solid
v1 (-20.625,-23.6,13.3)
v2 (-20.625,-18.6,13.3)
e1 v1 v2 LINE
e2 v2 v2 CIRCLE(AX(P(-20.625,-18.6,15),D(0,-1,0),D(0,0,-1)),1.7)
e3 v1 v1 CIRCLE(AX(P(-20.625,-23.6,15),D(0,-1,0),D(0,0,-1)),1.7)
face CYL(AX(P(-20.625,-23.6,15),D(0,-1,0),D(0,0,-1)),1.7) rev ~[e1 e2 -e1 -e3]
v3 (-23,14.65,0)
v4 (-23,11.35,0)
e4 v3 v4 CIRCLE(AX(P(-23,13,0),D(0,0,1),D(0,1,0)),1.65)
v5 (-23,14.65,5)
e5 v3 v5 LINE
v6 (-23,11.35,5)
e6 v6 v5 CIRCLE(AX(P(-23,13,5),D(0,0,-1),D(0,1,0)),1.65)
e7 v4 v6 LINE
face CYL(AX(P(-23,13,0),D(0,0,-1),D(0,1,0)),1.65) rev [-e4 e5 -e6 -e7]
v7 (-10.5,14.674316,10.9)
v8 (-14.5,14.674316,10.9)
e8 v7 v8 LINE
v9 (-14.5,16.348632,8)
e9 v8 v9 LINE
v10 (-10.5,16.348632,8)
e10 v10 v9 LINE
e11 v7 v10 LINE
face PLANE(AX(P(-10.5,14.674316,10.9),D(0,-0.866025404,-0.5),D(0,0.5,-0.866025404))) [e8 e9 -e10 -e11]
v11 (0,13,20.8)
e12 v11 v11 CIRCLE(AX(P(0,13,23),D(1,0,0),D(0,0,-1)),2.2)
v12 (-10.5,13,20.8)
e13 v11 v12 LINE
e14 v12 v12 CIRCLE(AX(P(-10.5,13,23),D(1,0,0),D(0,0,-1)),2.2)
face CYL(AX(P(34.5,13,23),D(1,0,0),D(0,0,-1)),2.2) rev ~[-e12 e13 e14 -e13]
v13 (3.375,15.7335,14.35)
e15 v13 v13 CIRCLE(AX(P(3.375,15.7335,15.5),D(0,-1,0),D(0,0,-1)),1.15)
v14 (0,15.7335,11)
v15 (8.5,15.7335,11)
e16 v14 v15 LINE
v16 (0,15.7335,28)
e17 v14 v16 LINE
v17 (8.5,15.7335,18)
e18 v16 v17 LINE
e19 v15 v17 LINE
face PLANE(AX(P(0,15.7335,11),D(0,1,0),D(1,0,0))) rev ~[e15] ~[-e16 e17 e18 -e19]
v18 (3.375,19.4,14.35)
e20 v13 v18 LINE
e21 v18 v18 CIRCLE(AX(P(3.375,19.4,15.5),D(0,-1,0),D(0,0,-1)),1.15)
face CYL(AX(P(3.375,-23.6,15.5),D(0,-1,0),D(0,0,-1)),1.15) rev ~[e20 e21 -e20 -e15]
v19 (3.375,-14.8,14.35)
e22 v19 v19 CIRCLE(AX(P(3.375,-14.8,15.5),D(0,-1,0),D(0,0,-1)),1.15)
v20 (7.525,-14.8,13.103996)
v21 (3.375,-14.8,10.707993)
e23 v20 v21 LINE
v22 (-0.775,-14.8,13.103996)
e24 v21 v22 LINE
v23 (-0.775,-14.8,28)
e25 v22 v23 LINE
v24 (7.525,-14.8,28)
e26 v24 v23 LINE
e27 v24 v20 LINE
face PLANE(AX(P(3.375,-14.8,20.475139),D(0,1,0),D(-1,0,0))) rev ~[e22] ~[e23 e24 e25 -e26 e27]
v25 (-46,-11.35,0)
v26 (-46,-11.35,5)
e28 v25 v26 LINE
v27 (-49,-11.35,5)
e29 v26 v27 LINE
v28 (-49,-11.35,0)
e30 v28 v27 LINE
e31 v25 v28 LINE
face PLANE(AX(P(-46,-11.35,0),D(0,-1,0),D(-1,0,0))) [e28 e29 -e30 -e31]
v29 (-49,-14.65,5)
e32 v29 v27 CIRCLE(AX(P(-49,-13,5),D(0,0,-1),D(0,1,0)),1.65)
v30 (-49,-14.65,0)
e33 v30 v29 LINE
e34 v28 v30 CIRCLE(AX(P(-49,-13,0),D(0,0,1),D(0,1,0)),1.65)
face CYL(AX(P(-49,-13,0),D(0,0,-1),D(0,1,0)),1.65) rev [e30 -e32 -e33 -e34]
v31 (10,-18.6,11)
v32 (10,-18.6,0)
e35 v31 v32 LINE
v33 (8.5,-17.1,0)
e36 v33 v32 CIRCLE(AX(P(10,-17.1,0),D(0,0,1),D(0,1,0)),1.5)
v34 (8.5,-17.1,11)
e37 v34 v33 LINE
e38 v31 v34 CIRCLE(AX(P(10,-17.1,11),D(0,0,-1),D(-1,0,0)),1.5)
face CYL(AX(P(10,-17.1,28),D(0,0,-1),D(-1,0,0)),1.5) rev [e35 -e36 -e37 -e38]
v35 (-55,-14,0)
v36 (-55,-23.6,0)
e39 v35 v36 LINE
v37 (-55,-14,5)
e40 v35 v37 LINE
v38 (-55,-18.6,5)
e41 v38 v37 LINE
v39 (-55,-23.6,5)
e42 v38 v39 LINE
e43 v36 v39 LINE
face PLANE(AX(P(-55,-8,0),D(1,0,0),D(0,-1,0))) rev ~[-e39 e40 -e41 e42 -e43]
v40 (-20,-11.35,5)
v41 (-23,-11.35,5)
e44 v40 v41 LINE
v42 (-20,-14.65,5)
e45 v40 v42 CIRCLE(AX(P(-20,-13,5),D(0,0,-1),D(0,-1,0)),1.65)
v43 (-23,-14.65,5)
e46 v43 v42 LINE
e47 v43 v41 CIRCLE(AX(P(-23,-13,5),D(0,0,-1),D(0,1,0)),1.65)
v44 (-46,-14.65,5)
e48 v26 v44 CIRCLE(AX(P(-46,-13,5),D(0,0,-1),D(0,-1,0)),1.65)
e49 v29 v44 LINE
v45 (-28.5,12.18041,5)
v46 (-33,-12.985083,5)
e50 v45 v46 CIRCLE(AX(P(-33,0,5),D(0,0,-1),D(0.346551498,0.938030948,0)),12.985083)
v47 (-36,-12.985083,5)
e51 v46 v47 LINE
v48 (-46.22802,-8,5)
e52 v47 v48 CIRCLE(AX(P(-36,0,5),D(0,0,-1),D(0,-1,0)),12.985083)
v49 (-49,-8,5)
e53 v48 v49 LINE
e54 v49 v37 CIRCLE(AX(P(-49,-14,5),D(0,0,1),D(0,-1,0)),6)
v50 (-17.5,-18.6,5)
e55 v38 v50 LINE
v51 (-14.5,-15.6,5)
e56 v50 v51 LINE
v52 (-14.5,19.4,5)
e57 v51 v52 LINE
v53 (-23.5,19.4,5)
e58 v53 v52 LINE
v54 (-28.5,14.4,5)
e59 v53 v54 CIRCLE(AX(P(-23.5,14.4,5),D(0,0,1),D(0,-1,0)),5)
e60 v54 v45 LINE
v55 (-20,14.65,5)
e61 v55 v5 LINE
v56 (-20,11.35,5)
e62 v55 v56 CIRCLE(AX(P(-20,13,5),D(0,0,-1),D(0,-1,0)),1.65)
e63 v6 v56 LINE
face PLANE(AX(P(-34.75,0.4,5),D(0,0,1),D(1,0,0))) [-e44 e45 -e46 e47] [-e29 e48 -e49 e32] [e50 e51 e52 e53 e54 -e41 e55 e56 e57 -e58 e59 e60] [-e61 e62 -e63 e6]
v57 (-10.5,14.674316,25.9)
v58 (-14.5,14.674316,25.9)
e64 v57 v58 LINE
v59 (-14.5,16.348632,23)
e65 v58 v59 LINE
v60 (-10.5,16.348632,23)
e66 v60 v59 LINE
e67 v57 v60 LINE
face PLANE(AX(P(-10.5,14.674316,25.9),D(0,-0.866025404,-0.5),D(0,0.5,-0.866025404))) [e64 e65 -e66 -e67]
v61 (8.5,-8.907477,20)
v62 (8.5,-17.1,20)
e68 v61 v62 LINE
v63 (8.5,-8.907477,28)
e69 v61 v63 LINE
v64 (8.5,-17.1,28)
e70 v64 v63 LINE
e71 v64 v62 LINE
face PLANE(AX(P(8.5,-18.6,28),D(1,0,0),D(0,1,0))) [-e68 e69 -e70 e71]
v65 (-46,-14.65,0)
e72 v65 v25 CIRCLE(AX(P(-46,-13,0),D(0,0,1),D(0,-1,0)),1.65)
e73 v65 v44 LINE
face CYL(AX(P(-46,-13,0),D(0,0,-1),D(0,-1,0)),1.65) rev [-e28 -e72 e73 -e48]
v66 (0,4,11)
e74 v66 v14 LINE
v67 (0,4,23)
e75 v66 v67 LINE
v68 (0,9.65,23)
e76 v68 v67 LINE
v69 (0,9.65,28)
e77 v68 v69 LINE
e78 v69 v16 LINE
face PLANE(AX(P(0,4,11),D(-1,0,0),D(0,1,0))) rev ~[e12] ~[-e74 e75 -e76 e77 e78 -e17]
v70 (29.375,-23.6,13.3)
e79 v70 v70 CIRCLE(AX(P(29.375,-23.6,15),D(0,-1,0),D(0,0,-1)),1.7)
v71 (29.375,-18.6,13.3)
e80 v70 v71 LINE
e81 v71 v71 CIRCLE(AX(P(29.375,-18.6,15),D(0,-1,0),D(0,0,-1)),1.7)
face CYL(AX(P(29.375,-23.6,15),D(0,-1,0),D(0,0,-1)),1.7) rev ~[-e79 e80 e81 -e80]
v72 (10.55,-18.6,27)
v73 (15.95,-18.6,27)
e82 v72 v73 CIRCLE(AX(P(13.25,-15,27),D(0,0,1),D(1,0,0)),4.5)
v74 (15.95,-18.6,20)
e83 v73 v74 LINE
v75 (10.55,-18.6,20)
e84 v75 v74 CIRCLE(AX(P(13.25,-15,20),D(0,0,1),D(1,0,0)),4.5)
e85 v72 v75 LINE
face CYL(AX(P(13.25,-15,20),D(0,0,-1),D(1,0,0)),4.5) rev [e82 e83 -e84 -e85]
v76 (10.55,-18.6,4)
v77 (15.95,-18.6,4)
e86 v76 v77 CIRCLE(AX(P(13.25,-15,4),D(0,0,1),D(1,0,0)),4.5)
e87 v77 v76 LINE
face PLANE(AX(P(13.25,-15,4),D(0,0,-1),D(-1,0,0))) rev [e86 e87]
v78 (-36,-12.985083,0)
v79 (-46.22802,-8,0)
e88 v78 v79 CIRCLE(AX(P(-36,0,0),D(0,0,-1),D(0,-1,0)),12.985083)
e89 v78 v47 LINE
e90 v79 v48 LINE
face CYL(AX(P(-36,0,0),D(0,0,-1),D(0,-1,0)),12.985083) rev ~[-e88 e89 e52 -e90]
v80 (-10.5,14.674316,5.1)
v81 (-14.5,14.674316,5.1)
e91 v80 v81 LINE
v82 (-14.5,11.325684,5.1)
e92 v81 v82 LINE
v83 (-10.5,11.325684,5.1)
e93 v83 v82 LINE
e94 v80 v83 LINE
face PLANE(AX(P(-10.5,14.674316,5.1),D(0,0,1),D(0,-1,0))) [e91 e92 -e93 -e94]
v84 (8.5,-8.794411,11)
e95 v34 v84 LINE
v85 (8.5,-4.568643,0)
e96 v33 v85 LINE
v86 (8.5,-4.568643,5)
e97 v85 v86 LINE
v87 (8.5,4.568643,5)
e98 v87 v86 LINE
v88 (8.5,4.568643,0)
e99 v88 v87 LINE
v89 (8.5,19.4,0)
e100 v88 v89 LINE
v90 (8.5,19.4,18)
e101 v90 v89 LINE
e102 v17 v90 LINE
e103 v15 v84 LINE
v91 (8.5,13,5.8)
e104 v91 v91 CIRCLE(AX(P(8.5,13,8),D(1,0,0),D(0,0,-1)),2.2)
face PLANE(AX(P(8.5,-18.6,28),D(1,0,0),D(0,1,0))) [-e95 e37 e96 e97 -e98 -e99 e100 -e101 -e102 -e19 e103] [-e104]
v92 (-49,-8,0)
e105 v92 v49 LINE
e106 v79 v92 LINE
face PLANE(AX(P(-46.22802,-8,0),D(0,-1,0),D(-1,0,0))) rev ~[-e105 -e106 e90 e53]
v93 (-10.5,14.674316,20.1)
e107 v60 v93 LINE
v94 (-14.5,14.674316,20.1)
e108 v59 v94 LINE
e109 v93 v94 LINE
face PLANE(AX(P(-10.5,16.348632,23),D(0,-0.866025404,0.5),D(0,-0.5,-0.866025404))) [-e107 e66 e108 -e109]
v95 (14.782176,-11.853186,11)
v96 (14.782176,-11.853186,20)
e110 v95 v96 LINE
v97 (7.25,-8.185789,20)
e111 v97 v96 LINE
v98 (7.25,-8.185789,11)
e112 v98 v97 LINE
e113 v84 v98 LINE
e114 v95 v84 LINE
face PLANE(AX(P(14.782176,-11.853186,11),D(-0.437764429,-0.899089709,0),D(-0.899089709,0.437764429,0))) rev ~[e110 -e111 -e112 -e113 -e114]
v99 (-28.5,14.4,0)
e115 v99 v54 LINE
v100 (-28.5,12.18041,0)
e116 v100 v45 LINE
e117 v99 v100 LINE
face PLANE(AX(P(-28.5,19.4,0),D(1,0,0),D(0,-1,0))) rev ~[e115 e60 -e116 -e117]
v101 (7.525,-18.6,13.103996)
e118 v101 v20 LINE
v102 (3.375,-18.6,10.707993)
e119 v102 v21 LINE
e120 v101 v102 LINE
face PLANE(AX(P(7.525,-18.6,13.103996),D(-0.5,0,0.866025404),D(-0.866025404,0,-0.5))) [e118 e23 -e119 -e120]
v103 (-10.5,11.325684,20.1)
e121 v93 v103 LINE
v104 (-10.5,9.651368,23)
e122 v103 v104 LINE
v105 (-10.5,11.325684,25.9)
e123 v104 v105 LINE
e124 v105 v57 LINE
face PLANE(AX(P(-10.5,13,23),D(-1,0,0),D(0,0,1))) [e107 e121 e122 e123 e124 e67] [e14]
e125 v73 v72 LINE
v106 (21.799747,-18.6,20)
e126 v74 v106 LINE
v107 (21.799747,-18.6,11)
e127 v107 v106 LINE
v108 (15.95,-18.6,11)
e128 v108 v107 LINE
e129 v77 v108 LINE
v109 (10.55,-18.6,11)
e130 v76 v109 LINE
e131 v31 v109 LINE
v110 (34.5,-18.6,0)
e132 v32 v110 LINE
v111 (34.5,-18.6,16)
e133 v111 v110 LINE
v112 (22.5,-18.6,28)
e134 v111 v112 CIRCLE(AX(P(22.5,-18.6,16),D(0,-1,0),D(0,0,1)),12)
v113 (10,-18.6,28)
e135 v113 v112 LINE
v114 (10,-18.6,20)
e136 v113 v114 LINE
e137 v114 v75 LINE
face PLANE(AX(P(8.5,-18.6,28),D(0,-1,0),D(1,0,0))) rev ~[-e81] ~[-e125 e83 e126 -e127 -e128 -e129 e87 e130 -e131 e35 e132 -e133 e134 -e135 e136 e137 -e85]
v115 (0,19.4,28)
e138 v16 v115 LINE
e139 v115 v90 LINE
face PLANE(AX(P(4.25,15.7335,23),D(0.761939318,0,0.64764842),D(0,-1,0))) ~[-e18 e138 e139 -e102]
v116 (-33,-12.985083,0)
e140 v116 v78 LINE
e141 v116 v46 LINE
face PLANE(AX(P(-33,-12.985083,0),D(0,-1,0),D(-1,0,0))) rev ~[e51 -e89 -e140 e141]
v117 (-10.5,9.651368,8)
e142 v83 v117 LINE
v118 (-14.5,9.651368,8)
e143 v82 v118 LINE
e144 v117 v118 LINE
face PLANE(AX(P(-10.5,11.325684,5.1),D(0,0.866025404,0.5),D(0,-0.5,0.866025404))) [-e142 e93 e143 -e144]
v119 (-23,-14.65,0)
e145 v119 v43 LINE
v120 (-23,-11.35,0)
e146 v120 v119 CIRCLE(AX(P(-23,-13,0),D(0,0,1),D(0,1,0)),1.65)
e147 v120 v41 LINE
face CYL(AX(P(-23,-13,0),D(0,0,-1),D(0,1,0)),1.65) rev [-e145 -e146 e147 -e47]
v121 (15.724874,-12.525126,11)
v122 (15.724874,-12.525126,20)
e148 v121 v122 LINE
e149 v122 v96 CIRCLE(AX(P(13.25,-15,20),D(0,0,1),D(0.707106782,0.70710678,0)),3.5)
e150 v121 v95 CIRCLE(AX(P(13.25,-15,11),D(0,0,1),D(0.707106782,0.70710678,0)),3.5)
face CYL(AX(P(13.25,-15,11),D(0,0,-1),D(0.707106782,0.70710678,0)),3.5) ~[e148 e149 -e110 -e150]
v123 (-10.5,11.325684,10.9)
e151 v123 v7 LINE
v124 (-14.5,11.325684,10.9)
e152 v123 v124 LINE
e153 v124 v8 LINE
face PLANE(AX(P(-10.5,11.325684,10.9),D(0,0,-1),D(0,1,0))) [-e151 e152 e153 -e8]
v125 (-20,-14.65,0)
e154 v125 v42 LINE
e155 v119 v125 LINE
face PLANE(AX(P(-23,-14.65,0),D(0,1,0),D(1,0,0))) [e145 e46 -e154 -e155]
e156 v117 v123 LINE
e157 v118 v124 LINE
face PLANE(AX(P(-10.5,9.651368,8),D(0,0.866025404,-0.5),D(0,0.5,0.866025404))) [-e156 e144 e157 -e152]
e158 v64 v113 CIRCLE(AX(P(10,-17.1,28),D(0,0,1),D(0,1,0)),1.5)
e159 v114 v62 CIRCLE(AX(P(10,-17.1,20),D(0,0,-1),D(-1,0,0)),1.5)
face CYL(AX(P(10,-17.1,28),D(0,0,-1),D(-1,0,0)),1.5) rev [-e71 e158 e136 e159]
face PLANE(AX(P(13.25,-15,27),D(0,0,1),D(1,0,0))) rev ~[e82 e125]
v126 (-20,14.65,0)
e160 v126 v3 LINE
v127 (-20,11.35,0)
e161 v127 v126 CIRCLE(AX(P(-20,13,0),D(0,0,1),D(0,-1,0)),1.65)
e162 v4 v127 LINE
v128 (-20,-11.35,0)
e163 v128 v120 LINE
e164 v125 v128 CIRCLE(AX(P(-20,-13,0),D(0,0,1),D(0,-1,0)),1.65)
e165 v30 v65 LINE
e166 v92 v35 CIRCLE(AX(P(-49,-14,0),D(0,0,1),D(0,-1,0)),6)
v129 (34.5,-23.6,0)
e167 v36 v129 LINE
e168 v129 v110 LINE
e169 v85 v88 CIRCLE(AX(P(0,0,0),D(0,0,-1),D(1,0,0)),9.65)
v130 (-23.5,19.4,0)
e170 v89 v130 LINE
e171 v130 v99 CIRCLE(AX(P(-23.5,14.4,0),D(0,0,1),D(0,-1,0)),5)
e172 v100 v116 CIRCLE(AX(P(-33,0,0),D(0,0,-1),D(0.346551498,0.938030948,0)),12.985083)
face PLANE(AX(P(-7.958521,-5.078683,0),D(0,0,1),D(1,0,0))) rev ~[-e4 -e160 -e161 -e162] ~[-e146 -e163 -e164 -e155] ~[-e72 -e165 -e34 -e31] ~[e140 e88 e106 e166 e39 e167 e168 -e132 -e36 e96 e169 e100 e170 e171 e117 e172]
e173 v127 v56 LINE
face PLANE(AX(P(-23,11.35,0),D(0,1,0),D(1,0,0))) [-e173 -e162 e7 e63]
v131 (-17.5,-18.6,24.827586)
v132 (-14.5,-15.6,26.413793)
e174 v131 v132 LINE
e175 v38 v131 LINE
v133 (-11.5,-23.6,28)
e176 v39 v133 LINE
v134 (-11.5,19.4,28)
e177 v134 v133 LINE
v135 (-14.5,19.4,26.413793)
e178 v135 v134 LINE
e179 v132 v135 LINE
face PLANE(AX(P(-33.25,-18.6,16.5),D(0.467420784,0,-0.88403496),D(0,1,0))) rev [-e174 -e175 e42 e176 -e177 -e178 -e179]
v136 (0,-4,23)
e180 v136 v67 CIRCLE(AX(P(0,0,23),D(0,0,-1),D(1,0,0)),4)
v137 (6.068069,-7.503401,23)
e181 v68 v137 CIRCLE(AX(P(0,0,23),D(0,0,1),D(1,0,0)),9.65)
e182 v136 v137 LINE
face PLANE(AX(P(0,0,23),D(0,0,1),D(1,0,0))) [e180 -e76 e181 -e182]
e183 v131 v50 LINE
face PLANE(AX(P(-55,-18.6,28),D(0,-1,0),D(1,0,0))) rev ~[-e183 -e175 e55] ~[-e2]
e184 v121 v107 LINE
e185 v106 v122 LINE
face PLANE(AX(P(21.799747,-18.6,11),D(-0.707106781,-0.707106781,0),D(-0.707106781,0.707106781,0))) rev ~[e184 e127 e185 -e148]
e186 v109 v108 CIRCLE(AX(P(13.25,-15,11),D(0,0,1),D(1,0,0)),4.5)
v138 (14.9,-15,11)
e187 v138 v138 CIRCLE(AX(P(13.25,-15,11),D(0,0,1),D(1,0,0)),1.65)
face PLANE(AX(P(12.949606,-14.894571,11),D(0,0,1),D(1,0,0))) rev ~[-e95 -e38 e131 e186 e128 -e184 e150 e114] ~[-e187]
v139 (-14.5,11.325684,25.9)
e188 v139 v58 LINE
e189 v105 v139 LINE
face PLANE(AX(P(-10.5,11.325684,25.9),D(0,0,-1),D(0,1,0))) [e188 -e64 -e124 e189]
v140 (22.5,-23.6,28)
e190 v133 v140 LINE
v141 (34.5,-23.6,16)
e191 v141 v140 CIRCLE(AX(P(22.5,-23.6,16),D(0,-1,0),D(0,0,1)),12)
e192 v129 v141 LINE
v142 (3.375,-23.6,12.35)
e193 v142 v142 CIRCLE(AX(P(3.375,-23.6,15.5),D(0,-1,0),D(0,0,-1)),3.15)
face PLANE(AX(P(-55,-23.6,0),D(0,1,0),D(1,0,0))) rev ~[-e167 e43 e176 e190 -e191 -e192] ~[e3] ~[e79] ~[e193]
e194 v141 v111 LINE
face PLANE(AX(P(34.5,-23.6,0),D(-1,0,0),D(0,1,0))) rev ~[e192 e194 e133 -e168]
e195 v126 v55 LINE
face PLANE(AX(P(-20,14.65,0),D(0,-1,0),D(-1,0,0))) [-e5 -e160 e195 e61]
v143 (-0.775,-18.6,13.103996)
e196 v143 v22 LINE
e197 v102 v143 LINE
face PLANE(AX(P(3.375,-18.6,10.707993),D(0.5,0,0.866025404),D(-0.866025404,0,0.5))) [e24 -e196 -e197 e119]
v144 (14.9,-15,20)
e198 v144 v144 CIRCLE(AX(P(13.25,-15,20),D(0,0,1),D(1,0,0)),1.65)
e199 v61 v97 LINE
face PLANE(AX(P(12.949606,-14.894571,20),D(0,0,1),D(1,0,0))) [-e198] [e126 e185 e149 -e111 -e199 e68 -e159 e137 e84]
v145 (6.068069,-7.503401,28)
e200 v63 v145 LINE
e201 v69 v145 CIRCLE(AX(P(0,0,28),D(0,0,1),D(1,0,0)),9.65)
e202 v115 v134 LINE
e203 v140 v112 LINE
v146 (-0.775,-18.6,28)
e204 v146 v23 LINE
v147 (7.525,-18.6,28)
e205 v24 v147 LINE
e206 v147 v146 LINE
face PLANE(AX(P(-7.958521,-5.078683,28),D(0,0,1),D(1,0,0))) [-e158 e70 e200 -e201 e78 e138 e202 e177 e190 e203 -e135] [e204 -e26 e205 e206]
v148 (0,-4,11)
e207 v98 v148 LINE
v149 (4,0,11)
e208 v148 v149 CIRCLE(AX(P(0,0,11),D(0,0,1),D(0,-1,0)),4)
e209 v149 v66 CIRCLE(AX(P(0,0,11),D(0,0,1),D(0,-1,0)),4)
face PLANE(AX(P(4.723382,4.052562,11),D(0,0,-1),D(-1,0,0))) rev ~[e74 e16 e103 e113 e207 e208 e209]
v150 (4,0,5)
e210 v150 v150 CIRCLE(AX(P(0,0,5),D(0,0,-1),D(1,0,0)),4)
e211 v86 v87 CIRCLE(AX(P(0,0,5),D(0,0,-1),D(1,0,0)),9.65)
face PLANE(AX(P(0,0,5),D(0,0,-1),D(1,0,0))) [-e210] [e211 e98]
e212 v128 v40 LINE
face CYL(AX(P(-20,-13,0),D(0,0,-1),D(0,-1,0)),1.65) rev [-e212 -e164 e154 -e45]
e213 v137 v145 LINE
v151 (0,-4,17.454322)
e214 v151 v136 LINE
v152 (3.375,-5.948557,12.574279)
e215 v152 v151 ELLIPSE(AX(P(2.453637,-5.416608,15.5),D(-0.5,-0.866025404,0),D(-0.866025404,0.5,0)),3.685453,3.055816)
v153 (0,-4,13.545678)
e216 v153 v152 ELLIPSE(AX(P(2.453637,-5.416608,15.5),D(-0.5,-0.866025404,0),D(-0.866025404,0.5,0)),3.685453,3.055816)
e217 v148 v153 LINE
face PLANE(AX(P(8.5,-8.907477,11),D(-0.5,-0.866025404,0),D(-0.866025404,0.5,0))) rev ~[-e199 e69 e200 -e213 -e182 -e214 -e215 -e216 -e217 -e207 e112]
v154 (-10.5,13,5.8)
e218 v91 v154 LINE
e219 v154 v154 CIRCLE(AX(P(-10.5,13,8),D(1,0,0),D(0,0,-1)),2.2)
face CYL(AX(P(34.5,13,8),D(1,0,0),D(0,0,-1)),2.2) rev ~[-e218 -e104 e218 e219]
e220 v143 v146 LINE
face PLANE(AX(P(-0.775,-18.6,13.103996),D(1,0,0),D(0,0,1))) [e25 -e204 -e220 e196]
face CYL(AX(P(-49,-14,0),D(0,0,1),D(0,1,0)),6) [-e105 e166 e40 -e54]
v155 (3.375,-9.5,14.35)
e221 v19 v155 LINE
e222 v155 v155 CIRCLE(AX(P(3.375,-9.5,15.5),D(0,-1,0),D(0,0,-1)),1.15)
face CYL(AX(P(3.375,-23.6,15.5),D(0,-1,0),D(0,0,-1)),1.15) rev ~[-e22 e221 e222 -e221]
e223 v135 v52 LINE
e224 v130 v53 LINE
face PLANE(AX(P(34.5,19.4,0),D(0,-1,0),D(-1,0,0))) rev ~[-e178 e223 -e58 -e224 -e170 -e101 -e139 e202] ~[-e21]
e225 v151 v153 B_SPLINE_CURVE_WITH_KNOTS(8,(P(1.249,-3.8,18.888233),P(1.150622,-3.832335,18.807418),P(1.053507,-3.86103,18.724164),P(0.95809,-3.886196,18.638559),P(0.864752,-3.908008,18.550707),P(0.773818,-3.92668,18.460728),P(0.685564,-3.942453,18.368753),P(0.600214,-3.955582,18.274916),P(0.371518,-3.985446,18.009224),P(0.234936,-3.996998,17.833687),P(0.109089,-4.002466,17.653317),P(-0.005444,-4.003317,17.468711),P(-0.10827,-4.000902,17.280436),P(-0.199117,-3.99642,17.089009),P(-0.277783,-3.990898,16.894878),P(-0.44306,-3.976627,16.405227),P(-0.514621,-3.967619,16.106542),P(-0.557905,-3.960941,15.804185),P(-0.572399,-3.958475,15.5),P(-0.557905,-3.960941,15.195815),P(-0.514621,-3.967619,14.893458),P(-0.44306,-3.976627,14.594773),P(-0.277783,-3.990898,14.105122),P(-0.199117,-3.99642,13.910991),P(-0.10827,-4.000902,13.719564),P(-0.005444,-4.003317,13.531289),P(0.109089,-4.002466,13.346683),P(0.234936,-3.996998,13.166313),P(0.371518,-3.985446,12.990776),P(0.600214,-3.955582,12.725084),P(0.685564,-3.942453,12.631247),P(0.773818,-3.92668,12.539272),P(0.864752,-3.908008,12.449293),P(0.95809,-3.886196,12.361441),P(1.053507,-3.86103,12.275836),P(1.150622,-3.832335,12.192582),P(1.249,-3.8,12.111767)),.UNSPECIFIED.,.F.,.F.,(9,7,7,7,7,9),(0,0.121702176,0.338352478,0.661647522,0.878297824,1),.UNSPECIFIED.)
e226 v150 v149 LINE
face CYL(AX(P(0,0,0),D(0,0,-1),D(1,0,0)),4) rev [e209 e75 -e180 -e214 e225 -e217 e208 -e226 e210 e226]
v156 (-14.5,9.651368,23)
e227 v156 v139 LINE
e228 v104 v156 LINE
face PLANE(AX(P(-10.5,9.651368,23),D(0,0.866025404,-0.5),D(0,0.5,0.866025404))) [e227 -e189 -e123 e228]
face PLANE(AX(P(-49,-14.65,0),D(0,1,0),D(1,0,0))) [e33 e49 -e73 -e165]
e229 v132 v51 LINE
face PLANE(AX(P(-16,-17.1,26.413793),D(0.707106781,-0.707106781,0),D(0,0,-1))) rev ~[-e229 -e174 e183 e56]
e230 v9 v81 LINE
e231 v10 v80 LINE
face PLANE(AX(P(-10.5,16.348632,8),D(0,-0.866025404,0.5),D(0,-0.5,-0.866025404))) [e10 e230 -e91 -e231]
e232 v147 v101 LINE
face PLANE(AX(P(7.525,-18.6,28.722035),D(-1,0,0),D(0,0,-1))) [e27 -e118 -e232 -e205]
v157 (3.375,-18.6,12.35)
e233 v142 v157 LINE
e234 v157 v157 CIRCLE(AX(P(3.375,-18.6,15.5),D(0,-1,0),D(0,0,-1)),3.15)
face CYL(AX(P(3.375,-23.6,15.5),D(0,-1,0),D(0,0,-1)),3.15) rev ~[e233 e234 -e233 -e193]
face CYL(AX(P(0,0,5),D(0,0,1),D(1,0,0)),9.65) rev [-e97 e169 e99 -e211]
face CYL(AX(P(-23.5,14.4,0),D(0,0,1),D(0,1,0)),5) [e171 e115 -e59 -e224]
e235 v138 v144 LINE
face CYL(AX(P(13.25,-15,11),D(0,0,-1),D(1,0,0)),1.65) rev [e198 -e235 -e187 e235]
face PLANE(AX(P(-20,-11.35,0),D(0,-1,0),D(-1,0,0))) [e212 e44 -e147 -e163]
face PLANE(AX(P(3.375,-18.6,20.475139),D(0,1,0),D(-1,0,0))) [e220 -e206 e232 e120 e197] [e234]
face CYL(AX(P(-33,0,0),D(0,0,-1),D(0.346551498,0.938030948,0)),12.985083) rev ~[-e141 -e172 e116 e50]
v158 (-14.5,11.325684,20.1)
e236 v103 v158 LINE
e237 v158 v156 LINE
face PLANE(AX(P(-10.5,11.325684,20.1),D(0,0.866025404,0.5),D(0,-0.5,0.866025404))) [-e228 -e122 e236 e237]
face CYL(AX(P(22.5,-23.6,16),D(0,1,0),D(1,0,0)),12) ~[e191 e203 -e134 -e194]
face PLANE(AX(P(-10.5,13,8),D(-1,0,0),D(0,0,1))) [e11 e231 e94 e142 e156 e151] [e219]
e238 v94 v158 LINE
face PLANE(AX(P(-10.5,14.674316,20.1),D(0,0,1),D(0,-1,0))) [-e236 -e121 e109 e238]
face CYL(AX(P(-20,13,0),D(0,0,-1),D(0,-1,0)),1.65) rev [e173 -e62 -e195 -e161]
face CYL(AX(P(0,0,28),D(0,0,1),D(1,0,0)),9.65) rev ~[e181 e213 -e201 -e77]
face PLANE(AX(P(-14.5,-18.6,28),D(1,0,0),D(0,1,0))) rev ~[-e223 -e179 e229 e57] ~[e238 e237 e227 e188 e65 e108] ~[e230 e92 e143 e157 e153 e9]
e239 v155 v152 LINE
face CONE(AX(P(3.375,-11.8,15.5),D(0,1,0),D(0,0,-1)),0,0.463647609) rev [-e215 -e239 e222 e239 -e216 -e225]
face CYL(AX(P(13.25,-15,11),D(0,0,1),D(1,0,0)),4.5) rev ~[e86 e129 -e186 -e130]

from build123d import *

# Parameters (mm, degrees)
SKETCH1_R                = 4
BOSS_EXTRUDE1_DEPTH      = 28
SKETCH2_W                = 40.5
SKETCH2_H                = 38
CUT_EXTRUDE1_DEPTH       = 23
SKETCH3_R                = 9.65
CUT_EXTRUDE2_DEPTH       = 5
CUT_EXTRUDE3_START       = -5
SKETCH4_R                = 9.65
CUT_EXTRUDE3_DEPTH       = 5
SKETCH8_R                = 1.15
CUT_EXTRUDE7_DEPTH       = 76.219678276
CHAMFER1_SIZE            = 23
CHAMFER1_SIZE2           = 43.5
SKETCH9_R                = 2.2
CUT_EXTRUDE8_DEPTH       = 97.701654612
CUT_EXTRUDE9_DEPTH       = 3
CUT_EXTRUDE9_DEPTH_BACK  = 4
CHAMFER2_SIZE            = 3
SKETCH15_R               = 1.7
CUT_EXTRUDE11_DEPTH      = 76.219678334
SKETCH16_W               = 26
SKETCH16_H               = 38
CUT_EXTRUDE12_DEPTH      = 67.075411499
FILLET6_R                = 1.5
CUT_EXTRUDE13_START      = -17
CUT_EXTRUDE13_DEPTH      = 17
BOSS_EXTRUDE3_DEPTH      = 4.5
BOSS_EXTRUDE3_DEPTH_BACK = 4.5
SKETCH21_R               = 1.65
SKETCH22_R               = 4.5
CUT_EXTRUDE14_DEPTH      = 7
CHAMFER4_SIZE            = 8.5
CHAMFER4_SIZE2           = 10
FILLET1_R                = 5
FILLET2_R                = 6
FILLET4_R                = 12
CUT_EXTRUDE15_DEPTH      = 3.8
CUT_EXTRUDE18_REACH      = 77.22
SKETCH26_R               = 3.15


with BuildPart() as part:
    # Sketch1 → Boss-Extrude1 (new body)
    with BuildSketch(Plane.XY):
        with BuildLine():
            Line((-55, -23.6), (34.5, -23.6))
            Line((34.5, -23.6), (34.5, 19.4))
            Line((34.5, 19.4), (-28.5, 19.4))
            Line((-28.5, 19.4), (-28.5, 12.180409823))
            ThreePointArc((-28.5, 12.180409823), (-20.217668105, -2.285689125), (-33, -12.985083113))
            Line((-33, -12.985083113), (-36, -12.985083113))
            ThreePointArc((-36, -12.985083113), (-41.689100041, -11.672468641), (-46.228019527, -8))
            Line((-46.228019527, -8), (-55, -8))
            Line((-55, -8), (-55, -23.6))
        make_face()
        Circle(SKETCH1_R, mode=Mode.SUBTRACT)
        with BuildLine():
            Line((-23, 11.35), (-20, 11.35))
            ThreePointArc((-20, 11.35), (-18.35, 13), (-20, 14.65))
            Line((-20, 14.65), (-23, 14.65))
            ThreePointArc((-23, 14.65), (-24.65, 13), (-23, 11.35))
        make_face(mode=Mode.SUBTRACT)
        with BuildLine():
            Line((-23, -14.65), (-20, -14.65))
            ThreePointArc((-20, -14.65), (-18.35, -13), (-20, -11.35))
            Line((-20, -11.35), (-23, -11.35))
            ThreePointArc((-23, -11.35), (-24.65, -13), (-23, -14.65))
        make_face(mode=Mode.SUBTRACT)
        with BuildLine():
            Line((-46, -11.35), (-49, -11.35))
            ThreePointArc((-49, -11.35), (-50.65, -13), (-49, -14.65))
            Line((-49, -14.65), (-46, -14.65))
            ThreePointArc((-46, -14.65), (-44.35, -13), (-46, -11.35))
        make_face(mode=Mode.SUBTRACT)
    extrude(amount=BOSS_EXTRUDE1_DEPTH)

    # Sketch2 → Cut-Extrude1 (cut)
    with BuildSketch(Plane.XY.offset(28)):
        with Locations((-34.75, 0.4)):
            Rectangle(SKETCH2_W, SKETCH2_H)
    extrude(amount=-CUT_EXTRUDE1_DEPTH, mode=Mode.SUBTRACT)

    # Sketch3 → Cut-Extrude2 (cut)
    with BuildSketch(Plane.XY.offset(28)):
        Circle(SKETCH3_R)
    extrude(amount=-CUT_EXTRUDE2_DEPTH, mode=Mode.SUBTRACT)

    # Sketch4 → Cut-Extrude3 (cut)
    with BuildSketch(Plane(origin=(0, 0, 0), x_dir=(-1, 0, 0), z_dir=(0, 0, -1)).offset(CUT_EXTRUDE3_START)):
        with Locations(Location((0, 0, 0), (0, 0, 180))):
            Circle(SKETCH4_R)
    extrude(amount=CUT_EXTRUDE3_DEPTH, mode=Mode.SUBTRACT)

    # Sketch8 → Cut-Extrude7 (cut, through all)
    with BuildSketch(Plane.XZ.offset(23.6)):
        with Locations(Location((3.375, 15.5, 0), (0, 0, 270))):
            Circle(SKETCH8_R)
    extrude(amount=-CUT_EXTRUDE7_DEPTH, mode=Mode.SUBTRACT)

    # Chamfer1
    chamfer1_edges = [part.edges().sort_by_distance(p)[0] for p in [
        (-55, -21.1, 28),
    ]]
    chamfer1_side = [part.faces().sort_by_distance(p)[0] for p in [
        (-55, -18.958031088, 10.841968912),
    ]]
    chamfer(chamfer1_edges, length=CHAMFER1_SIZE, length2=CHAMFER1_SIZE2, reference=chamfer1_side[0])

    # Sketch9 → Cut-Extrude8 (cut, through all)
    with BuildSketch(Plane(origin=(34.5, 0, 0), x_dir=(0, 0, -1), z_dir=(1, 0, 0))):
        with Locations((-8, 13)):
            Circle(SKETCH9_R)
        with Locations((-23, 13)):
            Circle(SKETCH9_R)
    extrude(amount=-CUT_EXTRUDE8_DEPTH, mode=Mode.SUBTRACT)

    # Sketch10 → Cut-Extrude9 (cut, two sides: drawn at the far end of the back side and taken through both)
    with BuildSketch(Plane.ZY.offset(14.5).offset(-CUT_EXTRUDE9_DEPTH_BACK)):
        Polygon((5.1, 14.674315781), (5.1, 11.325684219), (8, 9.651368439), (10.9, 11.325684219), (10.9, 14.674315781), (8, 16.348631561), align=None)
        Polygon((25.9, 11.325684219), (25.9, 14.674315781), (23, 16.348631561), (20.1, 14.674315781), (20.1, 11.325684219), (23, 9.651368439), align=None)
    extrude(amount=CUT_EXTRUDE9_DEPTH + CUT_EXTRUDE9_DEPTH_BACK, mode=Mode.SUBTRACT)

    # Chamfer2
    chamfer2_edges = [part.edges().sort_by_distance(p)[0] for p in [
        (-14.5, -18.6, 15.706896552),
    ]]
    chamfer(chamfer2_edges, length=CHAMFER2_SIZE)

    # Sketch15 → Cut-Extrude11 (cut, through all)
    with BuildSketch(Plane.XZ.offset(23.6)):
        with Locations(Location((-20.625, 15, 0), (0, 0, 270))):
            Circle(SKETCH15_R)
        with Locations(Location((29.375, 15, 0), (0, 0, 270))):
            Circle(SKETCH15_R)
    extrude(amount=-CUT_EXTRUDE11_DEPTH, mode=Mode.SUBTRACT)

    # Sketch16 → Cut-Extrude12 (cut, through all)
    with BuildSketch(Plane.XY.offset(28)):
        with Locations((21.5, 0.4)):
            Rectangle(SKETCH16_W, SKETCH16_H)
    extrude(amount=-CUT_EXTRUDE12_DEPTH, mode=Mode.SUBTRACT)

    # Fillet6
    fillet6_edges = [part.edges().sort_by_distance(p)[0] for p in [
        (8.5, -18.6, 14),
    ]]
    fillet(fillet6_edges, radius=FILLET6_R)

    # Sketch17 → Cut-Extrude13 (cut)
    with BuildSketch(Plane.XY.offset(28).offset(CUT_EXTRUDE13_START)):
        with BuildLine():
            Line((0, 4), (0, 15.733500455))
            Line((0, 15.733500455), (8.5, 15.733500455))
            Line((8.5, 15.733500455), (8.5, -8.907477288))
            Line((8.5, -8.907477288), (0, -4))
            ThreePointArc((0, -4), (4, 0), (0, 4))
        make_face()
    extrude(amount=CUT_EXTRUDE13_DEPTH, mode=Mode.SUBTRACT)

    # Sketch20 → Cut-Revolve1 (revolve, cut)
    with BuildSketch(Plane.XY.offset(15.5), mode=Mode.PRIVATE) as cut_revolve1_sk:
        Polygon((3.375, -11.8), (7.375, -3.8), (3.375, -3.8), align=None)
    revolve(cut_revolve1_sk.sketch.rotate(Axis((3.375, -3.8, 15.5), (0, -1, 0)), 270), axis=Axis((3.375, -3.8, 15.5), (0, -1, 0)), mode=Mode.SUBTRACT)

    # Sketch21 → Boss-Extrude3 (add, two sides: drawn at the far end of the back side and taken through both)
    with BuildSketch(Plane.XY.offset(15.5).offset(-BOSS_EXTRUDE3_DEPTH_BACK)):
        with BuildLine():
            Line((14.782175503, -11.85318602), (7.25, -8.185789452))
            Line((7.25, -8.185789452), (7.25, -18.6))
            Line((7.25, -18.6), (21.799747468, -18.6))
            Line((21.799747468, -18.6), (15.724873734, -12.525126266))
            ThreePointArc((15.724873734, -12.525126266), (15.281498664, -12.14990997), (14.782175503, -11.85318602))
        make_face()
        with Locations((13.25, -15)):
            Circle(SKETCH21_R, mode=Mode.SUBTRACT)
    extrude(amount=BOSS_EXTRUDE3_DEPTH + BOSS_EXTRUDE3_DEPTH_BACK)

    # Sketch22 → Cut-Extrude14 (cut)
    with BuildSketch(Plane.XY.offset(20)):
        with Locations((13.25, -15)):
            Circle(SKETCH22_R)
    cut_extrude14 = extrude(amount=CUT_EXTRUDE14_DEPTH, mode=Mode.SUBTRACT)

    # Mirror1: Cut-Extrude14 across plane
    add(cut_extrude14.mirror(Plane.XY.offset(15.5)), mode=Mode.SUBTRACT)

    # Chamfer4
    chamfer4_edges = [part.edges().sort_by_distance(p)[0] for p in [
        (8.5, 17.566750228, 28),
    ]]
    chamfer4_side = [part.faces().sort_by_distance(p)[0] for p in [
        (7.87031754, -13.003738644, 28),
    ]]
    chamfer(chamfer4_edges, length=CHAMFER4_SIZE, length2=CHAMFER4_SIZE2, reference=chamfer4_side[0])

    # Fillet1
    fillet1_edges = [part.edges().sort_by_distance(p)[0] for p in [
        (-28.5, 19.4, 2.5),
    ]]
    fillet(fillet1_edges, radius=FILLET1_R)

    # Fillet2
    fillet2_edges = [part.edges().sort_by_distance(p)[0] for p in [
        (-55, -8, 2.5),
    ]]
    fillet(fillet2_edges, radius=FILLET2_R)

    # Fillet4
    fillet4_edges = [part.edges().sort_by_distance(p)[0] for p in [
        (34.5, -21.1, 28),
    ]]
    fillet(fillet4_edges, radius=FILLET4_R)

    # Sketch23 → Cut-Extrude15 (cut)
    with BuildSketch(Plane.XZ.offset(18.6)):
        Polygon((-0.775, 28.722034997), (7.525, 28.722034997), (7.525, 13.103996383), (3.375, 10.707992766), (-0.775, 13.103996383), align=None)
    extrude(amount=-CUT_EXTRUDE15_DEPTH, mode=Mode.SUBTRACT)

    # Sketch26 → Cut-Extrude18 (cut, up to next)
    with BuildSketch(Plane.XZ.offset(23.6), mode=Mode.PRIVATE) as cut_extrude18_sk1:
        with Locations(Location((3.375, 15.5, 0), (0, 0, 270))):
            Circle(SKETCH26_R)
    cut_extrude18_tool1 = extrude(cut_extrude18_sk1.sketch, amount=-CUT_EXTRUDE18_REACH, mode=Mode.PRIVATE) & part.part
    add(cut_extrude18_tool1.solids().sort_by_distance((3.375, -23.6, 15.5))[0], mode=Mode.SUBTRACT)


solid = part.part
